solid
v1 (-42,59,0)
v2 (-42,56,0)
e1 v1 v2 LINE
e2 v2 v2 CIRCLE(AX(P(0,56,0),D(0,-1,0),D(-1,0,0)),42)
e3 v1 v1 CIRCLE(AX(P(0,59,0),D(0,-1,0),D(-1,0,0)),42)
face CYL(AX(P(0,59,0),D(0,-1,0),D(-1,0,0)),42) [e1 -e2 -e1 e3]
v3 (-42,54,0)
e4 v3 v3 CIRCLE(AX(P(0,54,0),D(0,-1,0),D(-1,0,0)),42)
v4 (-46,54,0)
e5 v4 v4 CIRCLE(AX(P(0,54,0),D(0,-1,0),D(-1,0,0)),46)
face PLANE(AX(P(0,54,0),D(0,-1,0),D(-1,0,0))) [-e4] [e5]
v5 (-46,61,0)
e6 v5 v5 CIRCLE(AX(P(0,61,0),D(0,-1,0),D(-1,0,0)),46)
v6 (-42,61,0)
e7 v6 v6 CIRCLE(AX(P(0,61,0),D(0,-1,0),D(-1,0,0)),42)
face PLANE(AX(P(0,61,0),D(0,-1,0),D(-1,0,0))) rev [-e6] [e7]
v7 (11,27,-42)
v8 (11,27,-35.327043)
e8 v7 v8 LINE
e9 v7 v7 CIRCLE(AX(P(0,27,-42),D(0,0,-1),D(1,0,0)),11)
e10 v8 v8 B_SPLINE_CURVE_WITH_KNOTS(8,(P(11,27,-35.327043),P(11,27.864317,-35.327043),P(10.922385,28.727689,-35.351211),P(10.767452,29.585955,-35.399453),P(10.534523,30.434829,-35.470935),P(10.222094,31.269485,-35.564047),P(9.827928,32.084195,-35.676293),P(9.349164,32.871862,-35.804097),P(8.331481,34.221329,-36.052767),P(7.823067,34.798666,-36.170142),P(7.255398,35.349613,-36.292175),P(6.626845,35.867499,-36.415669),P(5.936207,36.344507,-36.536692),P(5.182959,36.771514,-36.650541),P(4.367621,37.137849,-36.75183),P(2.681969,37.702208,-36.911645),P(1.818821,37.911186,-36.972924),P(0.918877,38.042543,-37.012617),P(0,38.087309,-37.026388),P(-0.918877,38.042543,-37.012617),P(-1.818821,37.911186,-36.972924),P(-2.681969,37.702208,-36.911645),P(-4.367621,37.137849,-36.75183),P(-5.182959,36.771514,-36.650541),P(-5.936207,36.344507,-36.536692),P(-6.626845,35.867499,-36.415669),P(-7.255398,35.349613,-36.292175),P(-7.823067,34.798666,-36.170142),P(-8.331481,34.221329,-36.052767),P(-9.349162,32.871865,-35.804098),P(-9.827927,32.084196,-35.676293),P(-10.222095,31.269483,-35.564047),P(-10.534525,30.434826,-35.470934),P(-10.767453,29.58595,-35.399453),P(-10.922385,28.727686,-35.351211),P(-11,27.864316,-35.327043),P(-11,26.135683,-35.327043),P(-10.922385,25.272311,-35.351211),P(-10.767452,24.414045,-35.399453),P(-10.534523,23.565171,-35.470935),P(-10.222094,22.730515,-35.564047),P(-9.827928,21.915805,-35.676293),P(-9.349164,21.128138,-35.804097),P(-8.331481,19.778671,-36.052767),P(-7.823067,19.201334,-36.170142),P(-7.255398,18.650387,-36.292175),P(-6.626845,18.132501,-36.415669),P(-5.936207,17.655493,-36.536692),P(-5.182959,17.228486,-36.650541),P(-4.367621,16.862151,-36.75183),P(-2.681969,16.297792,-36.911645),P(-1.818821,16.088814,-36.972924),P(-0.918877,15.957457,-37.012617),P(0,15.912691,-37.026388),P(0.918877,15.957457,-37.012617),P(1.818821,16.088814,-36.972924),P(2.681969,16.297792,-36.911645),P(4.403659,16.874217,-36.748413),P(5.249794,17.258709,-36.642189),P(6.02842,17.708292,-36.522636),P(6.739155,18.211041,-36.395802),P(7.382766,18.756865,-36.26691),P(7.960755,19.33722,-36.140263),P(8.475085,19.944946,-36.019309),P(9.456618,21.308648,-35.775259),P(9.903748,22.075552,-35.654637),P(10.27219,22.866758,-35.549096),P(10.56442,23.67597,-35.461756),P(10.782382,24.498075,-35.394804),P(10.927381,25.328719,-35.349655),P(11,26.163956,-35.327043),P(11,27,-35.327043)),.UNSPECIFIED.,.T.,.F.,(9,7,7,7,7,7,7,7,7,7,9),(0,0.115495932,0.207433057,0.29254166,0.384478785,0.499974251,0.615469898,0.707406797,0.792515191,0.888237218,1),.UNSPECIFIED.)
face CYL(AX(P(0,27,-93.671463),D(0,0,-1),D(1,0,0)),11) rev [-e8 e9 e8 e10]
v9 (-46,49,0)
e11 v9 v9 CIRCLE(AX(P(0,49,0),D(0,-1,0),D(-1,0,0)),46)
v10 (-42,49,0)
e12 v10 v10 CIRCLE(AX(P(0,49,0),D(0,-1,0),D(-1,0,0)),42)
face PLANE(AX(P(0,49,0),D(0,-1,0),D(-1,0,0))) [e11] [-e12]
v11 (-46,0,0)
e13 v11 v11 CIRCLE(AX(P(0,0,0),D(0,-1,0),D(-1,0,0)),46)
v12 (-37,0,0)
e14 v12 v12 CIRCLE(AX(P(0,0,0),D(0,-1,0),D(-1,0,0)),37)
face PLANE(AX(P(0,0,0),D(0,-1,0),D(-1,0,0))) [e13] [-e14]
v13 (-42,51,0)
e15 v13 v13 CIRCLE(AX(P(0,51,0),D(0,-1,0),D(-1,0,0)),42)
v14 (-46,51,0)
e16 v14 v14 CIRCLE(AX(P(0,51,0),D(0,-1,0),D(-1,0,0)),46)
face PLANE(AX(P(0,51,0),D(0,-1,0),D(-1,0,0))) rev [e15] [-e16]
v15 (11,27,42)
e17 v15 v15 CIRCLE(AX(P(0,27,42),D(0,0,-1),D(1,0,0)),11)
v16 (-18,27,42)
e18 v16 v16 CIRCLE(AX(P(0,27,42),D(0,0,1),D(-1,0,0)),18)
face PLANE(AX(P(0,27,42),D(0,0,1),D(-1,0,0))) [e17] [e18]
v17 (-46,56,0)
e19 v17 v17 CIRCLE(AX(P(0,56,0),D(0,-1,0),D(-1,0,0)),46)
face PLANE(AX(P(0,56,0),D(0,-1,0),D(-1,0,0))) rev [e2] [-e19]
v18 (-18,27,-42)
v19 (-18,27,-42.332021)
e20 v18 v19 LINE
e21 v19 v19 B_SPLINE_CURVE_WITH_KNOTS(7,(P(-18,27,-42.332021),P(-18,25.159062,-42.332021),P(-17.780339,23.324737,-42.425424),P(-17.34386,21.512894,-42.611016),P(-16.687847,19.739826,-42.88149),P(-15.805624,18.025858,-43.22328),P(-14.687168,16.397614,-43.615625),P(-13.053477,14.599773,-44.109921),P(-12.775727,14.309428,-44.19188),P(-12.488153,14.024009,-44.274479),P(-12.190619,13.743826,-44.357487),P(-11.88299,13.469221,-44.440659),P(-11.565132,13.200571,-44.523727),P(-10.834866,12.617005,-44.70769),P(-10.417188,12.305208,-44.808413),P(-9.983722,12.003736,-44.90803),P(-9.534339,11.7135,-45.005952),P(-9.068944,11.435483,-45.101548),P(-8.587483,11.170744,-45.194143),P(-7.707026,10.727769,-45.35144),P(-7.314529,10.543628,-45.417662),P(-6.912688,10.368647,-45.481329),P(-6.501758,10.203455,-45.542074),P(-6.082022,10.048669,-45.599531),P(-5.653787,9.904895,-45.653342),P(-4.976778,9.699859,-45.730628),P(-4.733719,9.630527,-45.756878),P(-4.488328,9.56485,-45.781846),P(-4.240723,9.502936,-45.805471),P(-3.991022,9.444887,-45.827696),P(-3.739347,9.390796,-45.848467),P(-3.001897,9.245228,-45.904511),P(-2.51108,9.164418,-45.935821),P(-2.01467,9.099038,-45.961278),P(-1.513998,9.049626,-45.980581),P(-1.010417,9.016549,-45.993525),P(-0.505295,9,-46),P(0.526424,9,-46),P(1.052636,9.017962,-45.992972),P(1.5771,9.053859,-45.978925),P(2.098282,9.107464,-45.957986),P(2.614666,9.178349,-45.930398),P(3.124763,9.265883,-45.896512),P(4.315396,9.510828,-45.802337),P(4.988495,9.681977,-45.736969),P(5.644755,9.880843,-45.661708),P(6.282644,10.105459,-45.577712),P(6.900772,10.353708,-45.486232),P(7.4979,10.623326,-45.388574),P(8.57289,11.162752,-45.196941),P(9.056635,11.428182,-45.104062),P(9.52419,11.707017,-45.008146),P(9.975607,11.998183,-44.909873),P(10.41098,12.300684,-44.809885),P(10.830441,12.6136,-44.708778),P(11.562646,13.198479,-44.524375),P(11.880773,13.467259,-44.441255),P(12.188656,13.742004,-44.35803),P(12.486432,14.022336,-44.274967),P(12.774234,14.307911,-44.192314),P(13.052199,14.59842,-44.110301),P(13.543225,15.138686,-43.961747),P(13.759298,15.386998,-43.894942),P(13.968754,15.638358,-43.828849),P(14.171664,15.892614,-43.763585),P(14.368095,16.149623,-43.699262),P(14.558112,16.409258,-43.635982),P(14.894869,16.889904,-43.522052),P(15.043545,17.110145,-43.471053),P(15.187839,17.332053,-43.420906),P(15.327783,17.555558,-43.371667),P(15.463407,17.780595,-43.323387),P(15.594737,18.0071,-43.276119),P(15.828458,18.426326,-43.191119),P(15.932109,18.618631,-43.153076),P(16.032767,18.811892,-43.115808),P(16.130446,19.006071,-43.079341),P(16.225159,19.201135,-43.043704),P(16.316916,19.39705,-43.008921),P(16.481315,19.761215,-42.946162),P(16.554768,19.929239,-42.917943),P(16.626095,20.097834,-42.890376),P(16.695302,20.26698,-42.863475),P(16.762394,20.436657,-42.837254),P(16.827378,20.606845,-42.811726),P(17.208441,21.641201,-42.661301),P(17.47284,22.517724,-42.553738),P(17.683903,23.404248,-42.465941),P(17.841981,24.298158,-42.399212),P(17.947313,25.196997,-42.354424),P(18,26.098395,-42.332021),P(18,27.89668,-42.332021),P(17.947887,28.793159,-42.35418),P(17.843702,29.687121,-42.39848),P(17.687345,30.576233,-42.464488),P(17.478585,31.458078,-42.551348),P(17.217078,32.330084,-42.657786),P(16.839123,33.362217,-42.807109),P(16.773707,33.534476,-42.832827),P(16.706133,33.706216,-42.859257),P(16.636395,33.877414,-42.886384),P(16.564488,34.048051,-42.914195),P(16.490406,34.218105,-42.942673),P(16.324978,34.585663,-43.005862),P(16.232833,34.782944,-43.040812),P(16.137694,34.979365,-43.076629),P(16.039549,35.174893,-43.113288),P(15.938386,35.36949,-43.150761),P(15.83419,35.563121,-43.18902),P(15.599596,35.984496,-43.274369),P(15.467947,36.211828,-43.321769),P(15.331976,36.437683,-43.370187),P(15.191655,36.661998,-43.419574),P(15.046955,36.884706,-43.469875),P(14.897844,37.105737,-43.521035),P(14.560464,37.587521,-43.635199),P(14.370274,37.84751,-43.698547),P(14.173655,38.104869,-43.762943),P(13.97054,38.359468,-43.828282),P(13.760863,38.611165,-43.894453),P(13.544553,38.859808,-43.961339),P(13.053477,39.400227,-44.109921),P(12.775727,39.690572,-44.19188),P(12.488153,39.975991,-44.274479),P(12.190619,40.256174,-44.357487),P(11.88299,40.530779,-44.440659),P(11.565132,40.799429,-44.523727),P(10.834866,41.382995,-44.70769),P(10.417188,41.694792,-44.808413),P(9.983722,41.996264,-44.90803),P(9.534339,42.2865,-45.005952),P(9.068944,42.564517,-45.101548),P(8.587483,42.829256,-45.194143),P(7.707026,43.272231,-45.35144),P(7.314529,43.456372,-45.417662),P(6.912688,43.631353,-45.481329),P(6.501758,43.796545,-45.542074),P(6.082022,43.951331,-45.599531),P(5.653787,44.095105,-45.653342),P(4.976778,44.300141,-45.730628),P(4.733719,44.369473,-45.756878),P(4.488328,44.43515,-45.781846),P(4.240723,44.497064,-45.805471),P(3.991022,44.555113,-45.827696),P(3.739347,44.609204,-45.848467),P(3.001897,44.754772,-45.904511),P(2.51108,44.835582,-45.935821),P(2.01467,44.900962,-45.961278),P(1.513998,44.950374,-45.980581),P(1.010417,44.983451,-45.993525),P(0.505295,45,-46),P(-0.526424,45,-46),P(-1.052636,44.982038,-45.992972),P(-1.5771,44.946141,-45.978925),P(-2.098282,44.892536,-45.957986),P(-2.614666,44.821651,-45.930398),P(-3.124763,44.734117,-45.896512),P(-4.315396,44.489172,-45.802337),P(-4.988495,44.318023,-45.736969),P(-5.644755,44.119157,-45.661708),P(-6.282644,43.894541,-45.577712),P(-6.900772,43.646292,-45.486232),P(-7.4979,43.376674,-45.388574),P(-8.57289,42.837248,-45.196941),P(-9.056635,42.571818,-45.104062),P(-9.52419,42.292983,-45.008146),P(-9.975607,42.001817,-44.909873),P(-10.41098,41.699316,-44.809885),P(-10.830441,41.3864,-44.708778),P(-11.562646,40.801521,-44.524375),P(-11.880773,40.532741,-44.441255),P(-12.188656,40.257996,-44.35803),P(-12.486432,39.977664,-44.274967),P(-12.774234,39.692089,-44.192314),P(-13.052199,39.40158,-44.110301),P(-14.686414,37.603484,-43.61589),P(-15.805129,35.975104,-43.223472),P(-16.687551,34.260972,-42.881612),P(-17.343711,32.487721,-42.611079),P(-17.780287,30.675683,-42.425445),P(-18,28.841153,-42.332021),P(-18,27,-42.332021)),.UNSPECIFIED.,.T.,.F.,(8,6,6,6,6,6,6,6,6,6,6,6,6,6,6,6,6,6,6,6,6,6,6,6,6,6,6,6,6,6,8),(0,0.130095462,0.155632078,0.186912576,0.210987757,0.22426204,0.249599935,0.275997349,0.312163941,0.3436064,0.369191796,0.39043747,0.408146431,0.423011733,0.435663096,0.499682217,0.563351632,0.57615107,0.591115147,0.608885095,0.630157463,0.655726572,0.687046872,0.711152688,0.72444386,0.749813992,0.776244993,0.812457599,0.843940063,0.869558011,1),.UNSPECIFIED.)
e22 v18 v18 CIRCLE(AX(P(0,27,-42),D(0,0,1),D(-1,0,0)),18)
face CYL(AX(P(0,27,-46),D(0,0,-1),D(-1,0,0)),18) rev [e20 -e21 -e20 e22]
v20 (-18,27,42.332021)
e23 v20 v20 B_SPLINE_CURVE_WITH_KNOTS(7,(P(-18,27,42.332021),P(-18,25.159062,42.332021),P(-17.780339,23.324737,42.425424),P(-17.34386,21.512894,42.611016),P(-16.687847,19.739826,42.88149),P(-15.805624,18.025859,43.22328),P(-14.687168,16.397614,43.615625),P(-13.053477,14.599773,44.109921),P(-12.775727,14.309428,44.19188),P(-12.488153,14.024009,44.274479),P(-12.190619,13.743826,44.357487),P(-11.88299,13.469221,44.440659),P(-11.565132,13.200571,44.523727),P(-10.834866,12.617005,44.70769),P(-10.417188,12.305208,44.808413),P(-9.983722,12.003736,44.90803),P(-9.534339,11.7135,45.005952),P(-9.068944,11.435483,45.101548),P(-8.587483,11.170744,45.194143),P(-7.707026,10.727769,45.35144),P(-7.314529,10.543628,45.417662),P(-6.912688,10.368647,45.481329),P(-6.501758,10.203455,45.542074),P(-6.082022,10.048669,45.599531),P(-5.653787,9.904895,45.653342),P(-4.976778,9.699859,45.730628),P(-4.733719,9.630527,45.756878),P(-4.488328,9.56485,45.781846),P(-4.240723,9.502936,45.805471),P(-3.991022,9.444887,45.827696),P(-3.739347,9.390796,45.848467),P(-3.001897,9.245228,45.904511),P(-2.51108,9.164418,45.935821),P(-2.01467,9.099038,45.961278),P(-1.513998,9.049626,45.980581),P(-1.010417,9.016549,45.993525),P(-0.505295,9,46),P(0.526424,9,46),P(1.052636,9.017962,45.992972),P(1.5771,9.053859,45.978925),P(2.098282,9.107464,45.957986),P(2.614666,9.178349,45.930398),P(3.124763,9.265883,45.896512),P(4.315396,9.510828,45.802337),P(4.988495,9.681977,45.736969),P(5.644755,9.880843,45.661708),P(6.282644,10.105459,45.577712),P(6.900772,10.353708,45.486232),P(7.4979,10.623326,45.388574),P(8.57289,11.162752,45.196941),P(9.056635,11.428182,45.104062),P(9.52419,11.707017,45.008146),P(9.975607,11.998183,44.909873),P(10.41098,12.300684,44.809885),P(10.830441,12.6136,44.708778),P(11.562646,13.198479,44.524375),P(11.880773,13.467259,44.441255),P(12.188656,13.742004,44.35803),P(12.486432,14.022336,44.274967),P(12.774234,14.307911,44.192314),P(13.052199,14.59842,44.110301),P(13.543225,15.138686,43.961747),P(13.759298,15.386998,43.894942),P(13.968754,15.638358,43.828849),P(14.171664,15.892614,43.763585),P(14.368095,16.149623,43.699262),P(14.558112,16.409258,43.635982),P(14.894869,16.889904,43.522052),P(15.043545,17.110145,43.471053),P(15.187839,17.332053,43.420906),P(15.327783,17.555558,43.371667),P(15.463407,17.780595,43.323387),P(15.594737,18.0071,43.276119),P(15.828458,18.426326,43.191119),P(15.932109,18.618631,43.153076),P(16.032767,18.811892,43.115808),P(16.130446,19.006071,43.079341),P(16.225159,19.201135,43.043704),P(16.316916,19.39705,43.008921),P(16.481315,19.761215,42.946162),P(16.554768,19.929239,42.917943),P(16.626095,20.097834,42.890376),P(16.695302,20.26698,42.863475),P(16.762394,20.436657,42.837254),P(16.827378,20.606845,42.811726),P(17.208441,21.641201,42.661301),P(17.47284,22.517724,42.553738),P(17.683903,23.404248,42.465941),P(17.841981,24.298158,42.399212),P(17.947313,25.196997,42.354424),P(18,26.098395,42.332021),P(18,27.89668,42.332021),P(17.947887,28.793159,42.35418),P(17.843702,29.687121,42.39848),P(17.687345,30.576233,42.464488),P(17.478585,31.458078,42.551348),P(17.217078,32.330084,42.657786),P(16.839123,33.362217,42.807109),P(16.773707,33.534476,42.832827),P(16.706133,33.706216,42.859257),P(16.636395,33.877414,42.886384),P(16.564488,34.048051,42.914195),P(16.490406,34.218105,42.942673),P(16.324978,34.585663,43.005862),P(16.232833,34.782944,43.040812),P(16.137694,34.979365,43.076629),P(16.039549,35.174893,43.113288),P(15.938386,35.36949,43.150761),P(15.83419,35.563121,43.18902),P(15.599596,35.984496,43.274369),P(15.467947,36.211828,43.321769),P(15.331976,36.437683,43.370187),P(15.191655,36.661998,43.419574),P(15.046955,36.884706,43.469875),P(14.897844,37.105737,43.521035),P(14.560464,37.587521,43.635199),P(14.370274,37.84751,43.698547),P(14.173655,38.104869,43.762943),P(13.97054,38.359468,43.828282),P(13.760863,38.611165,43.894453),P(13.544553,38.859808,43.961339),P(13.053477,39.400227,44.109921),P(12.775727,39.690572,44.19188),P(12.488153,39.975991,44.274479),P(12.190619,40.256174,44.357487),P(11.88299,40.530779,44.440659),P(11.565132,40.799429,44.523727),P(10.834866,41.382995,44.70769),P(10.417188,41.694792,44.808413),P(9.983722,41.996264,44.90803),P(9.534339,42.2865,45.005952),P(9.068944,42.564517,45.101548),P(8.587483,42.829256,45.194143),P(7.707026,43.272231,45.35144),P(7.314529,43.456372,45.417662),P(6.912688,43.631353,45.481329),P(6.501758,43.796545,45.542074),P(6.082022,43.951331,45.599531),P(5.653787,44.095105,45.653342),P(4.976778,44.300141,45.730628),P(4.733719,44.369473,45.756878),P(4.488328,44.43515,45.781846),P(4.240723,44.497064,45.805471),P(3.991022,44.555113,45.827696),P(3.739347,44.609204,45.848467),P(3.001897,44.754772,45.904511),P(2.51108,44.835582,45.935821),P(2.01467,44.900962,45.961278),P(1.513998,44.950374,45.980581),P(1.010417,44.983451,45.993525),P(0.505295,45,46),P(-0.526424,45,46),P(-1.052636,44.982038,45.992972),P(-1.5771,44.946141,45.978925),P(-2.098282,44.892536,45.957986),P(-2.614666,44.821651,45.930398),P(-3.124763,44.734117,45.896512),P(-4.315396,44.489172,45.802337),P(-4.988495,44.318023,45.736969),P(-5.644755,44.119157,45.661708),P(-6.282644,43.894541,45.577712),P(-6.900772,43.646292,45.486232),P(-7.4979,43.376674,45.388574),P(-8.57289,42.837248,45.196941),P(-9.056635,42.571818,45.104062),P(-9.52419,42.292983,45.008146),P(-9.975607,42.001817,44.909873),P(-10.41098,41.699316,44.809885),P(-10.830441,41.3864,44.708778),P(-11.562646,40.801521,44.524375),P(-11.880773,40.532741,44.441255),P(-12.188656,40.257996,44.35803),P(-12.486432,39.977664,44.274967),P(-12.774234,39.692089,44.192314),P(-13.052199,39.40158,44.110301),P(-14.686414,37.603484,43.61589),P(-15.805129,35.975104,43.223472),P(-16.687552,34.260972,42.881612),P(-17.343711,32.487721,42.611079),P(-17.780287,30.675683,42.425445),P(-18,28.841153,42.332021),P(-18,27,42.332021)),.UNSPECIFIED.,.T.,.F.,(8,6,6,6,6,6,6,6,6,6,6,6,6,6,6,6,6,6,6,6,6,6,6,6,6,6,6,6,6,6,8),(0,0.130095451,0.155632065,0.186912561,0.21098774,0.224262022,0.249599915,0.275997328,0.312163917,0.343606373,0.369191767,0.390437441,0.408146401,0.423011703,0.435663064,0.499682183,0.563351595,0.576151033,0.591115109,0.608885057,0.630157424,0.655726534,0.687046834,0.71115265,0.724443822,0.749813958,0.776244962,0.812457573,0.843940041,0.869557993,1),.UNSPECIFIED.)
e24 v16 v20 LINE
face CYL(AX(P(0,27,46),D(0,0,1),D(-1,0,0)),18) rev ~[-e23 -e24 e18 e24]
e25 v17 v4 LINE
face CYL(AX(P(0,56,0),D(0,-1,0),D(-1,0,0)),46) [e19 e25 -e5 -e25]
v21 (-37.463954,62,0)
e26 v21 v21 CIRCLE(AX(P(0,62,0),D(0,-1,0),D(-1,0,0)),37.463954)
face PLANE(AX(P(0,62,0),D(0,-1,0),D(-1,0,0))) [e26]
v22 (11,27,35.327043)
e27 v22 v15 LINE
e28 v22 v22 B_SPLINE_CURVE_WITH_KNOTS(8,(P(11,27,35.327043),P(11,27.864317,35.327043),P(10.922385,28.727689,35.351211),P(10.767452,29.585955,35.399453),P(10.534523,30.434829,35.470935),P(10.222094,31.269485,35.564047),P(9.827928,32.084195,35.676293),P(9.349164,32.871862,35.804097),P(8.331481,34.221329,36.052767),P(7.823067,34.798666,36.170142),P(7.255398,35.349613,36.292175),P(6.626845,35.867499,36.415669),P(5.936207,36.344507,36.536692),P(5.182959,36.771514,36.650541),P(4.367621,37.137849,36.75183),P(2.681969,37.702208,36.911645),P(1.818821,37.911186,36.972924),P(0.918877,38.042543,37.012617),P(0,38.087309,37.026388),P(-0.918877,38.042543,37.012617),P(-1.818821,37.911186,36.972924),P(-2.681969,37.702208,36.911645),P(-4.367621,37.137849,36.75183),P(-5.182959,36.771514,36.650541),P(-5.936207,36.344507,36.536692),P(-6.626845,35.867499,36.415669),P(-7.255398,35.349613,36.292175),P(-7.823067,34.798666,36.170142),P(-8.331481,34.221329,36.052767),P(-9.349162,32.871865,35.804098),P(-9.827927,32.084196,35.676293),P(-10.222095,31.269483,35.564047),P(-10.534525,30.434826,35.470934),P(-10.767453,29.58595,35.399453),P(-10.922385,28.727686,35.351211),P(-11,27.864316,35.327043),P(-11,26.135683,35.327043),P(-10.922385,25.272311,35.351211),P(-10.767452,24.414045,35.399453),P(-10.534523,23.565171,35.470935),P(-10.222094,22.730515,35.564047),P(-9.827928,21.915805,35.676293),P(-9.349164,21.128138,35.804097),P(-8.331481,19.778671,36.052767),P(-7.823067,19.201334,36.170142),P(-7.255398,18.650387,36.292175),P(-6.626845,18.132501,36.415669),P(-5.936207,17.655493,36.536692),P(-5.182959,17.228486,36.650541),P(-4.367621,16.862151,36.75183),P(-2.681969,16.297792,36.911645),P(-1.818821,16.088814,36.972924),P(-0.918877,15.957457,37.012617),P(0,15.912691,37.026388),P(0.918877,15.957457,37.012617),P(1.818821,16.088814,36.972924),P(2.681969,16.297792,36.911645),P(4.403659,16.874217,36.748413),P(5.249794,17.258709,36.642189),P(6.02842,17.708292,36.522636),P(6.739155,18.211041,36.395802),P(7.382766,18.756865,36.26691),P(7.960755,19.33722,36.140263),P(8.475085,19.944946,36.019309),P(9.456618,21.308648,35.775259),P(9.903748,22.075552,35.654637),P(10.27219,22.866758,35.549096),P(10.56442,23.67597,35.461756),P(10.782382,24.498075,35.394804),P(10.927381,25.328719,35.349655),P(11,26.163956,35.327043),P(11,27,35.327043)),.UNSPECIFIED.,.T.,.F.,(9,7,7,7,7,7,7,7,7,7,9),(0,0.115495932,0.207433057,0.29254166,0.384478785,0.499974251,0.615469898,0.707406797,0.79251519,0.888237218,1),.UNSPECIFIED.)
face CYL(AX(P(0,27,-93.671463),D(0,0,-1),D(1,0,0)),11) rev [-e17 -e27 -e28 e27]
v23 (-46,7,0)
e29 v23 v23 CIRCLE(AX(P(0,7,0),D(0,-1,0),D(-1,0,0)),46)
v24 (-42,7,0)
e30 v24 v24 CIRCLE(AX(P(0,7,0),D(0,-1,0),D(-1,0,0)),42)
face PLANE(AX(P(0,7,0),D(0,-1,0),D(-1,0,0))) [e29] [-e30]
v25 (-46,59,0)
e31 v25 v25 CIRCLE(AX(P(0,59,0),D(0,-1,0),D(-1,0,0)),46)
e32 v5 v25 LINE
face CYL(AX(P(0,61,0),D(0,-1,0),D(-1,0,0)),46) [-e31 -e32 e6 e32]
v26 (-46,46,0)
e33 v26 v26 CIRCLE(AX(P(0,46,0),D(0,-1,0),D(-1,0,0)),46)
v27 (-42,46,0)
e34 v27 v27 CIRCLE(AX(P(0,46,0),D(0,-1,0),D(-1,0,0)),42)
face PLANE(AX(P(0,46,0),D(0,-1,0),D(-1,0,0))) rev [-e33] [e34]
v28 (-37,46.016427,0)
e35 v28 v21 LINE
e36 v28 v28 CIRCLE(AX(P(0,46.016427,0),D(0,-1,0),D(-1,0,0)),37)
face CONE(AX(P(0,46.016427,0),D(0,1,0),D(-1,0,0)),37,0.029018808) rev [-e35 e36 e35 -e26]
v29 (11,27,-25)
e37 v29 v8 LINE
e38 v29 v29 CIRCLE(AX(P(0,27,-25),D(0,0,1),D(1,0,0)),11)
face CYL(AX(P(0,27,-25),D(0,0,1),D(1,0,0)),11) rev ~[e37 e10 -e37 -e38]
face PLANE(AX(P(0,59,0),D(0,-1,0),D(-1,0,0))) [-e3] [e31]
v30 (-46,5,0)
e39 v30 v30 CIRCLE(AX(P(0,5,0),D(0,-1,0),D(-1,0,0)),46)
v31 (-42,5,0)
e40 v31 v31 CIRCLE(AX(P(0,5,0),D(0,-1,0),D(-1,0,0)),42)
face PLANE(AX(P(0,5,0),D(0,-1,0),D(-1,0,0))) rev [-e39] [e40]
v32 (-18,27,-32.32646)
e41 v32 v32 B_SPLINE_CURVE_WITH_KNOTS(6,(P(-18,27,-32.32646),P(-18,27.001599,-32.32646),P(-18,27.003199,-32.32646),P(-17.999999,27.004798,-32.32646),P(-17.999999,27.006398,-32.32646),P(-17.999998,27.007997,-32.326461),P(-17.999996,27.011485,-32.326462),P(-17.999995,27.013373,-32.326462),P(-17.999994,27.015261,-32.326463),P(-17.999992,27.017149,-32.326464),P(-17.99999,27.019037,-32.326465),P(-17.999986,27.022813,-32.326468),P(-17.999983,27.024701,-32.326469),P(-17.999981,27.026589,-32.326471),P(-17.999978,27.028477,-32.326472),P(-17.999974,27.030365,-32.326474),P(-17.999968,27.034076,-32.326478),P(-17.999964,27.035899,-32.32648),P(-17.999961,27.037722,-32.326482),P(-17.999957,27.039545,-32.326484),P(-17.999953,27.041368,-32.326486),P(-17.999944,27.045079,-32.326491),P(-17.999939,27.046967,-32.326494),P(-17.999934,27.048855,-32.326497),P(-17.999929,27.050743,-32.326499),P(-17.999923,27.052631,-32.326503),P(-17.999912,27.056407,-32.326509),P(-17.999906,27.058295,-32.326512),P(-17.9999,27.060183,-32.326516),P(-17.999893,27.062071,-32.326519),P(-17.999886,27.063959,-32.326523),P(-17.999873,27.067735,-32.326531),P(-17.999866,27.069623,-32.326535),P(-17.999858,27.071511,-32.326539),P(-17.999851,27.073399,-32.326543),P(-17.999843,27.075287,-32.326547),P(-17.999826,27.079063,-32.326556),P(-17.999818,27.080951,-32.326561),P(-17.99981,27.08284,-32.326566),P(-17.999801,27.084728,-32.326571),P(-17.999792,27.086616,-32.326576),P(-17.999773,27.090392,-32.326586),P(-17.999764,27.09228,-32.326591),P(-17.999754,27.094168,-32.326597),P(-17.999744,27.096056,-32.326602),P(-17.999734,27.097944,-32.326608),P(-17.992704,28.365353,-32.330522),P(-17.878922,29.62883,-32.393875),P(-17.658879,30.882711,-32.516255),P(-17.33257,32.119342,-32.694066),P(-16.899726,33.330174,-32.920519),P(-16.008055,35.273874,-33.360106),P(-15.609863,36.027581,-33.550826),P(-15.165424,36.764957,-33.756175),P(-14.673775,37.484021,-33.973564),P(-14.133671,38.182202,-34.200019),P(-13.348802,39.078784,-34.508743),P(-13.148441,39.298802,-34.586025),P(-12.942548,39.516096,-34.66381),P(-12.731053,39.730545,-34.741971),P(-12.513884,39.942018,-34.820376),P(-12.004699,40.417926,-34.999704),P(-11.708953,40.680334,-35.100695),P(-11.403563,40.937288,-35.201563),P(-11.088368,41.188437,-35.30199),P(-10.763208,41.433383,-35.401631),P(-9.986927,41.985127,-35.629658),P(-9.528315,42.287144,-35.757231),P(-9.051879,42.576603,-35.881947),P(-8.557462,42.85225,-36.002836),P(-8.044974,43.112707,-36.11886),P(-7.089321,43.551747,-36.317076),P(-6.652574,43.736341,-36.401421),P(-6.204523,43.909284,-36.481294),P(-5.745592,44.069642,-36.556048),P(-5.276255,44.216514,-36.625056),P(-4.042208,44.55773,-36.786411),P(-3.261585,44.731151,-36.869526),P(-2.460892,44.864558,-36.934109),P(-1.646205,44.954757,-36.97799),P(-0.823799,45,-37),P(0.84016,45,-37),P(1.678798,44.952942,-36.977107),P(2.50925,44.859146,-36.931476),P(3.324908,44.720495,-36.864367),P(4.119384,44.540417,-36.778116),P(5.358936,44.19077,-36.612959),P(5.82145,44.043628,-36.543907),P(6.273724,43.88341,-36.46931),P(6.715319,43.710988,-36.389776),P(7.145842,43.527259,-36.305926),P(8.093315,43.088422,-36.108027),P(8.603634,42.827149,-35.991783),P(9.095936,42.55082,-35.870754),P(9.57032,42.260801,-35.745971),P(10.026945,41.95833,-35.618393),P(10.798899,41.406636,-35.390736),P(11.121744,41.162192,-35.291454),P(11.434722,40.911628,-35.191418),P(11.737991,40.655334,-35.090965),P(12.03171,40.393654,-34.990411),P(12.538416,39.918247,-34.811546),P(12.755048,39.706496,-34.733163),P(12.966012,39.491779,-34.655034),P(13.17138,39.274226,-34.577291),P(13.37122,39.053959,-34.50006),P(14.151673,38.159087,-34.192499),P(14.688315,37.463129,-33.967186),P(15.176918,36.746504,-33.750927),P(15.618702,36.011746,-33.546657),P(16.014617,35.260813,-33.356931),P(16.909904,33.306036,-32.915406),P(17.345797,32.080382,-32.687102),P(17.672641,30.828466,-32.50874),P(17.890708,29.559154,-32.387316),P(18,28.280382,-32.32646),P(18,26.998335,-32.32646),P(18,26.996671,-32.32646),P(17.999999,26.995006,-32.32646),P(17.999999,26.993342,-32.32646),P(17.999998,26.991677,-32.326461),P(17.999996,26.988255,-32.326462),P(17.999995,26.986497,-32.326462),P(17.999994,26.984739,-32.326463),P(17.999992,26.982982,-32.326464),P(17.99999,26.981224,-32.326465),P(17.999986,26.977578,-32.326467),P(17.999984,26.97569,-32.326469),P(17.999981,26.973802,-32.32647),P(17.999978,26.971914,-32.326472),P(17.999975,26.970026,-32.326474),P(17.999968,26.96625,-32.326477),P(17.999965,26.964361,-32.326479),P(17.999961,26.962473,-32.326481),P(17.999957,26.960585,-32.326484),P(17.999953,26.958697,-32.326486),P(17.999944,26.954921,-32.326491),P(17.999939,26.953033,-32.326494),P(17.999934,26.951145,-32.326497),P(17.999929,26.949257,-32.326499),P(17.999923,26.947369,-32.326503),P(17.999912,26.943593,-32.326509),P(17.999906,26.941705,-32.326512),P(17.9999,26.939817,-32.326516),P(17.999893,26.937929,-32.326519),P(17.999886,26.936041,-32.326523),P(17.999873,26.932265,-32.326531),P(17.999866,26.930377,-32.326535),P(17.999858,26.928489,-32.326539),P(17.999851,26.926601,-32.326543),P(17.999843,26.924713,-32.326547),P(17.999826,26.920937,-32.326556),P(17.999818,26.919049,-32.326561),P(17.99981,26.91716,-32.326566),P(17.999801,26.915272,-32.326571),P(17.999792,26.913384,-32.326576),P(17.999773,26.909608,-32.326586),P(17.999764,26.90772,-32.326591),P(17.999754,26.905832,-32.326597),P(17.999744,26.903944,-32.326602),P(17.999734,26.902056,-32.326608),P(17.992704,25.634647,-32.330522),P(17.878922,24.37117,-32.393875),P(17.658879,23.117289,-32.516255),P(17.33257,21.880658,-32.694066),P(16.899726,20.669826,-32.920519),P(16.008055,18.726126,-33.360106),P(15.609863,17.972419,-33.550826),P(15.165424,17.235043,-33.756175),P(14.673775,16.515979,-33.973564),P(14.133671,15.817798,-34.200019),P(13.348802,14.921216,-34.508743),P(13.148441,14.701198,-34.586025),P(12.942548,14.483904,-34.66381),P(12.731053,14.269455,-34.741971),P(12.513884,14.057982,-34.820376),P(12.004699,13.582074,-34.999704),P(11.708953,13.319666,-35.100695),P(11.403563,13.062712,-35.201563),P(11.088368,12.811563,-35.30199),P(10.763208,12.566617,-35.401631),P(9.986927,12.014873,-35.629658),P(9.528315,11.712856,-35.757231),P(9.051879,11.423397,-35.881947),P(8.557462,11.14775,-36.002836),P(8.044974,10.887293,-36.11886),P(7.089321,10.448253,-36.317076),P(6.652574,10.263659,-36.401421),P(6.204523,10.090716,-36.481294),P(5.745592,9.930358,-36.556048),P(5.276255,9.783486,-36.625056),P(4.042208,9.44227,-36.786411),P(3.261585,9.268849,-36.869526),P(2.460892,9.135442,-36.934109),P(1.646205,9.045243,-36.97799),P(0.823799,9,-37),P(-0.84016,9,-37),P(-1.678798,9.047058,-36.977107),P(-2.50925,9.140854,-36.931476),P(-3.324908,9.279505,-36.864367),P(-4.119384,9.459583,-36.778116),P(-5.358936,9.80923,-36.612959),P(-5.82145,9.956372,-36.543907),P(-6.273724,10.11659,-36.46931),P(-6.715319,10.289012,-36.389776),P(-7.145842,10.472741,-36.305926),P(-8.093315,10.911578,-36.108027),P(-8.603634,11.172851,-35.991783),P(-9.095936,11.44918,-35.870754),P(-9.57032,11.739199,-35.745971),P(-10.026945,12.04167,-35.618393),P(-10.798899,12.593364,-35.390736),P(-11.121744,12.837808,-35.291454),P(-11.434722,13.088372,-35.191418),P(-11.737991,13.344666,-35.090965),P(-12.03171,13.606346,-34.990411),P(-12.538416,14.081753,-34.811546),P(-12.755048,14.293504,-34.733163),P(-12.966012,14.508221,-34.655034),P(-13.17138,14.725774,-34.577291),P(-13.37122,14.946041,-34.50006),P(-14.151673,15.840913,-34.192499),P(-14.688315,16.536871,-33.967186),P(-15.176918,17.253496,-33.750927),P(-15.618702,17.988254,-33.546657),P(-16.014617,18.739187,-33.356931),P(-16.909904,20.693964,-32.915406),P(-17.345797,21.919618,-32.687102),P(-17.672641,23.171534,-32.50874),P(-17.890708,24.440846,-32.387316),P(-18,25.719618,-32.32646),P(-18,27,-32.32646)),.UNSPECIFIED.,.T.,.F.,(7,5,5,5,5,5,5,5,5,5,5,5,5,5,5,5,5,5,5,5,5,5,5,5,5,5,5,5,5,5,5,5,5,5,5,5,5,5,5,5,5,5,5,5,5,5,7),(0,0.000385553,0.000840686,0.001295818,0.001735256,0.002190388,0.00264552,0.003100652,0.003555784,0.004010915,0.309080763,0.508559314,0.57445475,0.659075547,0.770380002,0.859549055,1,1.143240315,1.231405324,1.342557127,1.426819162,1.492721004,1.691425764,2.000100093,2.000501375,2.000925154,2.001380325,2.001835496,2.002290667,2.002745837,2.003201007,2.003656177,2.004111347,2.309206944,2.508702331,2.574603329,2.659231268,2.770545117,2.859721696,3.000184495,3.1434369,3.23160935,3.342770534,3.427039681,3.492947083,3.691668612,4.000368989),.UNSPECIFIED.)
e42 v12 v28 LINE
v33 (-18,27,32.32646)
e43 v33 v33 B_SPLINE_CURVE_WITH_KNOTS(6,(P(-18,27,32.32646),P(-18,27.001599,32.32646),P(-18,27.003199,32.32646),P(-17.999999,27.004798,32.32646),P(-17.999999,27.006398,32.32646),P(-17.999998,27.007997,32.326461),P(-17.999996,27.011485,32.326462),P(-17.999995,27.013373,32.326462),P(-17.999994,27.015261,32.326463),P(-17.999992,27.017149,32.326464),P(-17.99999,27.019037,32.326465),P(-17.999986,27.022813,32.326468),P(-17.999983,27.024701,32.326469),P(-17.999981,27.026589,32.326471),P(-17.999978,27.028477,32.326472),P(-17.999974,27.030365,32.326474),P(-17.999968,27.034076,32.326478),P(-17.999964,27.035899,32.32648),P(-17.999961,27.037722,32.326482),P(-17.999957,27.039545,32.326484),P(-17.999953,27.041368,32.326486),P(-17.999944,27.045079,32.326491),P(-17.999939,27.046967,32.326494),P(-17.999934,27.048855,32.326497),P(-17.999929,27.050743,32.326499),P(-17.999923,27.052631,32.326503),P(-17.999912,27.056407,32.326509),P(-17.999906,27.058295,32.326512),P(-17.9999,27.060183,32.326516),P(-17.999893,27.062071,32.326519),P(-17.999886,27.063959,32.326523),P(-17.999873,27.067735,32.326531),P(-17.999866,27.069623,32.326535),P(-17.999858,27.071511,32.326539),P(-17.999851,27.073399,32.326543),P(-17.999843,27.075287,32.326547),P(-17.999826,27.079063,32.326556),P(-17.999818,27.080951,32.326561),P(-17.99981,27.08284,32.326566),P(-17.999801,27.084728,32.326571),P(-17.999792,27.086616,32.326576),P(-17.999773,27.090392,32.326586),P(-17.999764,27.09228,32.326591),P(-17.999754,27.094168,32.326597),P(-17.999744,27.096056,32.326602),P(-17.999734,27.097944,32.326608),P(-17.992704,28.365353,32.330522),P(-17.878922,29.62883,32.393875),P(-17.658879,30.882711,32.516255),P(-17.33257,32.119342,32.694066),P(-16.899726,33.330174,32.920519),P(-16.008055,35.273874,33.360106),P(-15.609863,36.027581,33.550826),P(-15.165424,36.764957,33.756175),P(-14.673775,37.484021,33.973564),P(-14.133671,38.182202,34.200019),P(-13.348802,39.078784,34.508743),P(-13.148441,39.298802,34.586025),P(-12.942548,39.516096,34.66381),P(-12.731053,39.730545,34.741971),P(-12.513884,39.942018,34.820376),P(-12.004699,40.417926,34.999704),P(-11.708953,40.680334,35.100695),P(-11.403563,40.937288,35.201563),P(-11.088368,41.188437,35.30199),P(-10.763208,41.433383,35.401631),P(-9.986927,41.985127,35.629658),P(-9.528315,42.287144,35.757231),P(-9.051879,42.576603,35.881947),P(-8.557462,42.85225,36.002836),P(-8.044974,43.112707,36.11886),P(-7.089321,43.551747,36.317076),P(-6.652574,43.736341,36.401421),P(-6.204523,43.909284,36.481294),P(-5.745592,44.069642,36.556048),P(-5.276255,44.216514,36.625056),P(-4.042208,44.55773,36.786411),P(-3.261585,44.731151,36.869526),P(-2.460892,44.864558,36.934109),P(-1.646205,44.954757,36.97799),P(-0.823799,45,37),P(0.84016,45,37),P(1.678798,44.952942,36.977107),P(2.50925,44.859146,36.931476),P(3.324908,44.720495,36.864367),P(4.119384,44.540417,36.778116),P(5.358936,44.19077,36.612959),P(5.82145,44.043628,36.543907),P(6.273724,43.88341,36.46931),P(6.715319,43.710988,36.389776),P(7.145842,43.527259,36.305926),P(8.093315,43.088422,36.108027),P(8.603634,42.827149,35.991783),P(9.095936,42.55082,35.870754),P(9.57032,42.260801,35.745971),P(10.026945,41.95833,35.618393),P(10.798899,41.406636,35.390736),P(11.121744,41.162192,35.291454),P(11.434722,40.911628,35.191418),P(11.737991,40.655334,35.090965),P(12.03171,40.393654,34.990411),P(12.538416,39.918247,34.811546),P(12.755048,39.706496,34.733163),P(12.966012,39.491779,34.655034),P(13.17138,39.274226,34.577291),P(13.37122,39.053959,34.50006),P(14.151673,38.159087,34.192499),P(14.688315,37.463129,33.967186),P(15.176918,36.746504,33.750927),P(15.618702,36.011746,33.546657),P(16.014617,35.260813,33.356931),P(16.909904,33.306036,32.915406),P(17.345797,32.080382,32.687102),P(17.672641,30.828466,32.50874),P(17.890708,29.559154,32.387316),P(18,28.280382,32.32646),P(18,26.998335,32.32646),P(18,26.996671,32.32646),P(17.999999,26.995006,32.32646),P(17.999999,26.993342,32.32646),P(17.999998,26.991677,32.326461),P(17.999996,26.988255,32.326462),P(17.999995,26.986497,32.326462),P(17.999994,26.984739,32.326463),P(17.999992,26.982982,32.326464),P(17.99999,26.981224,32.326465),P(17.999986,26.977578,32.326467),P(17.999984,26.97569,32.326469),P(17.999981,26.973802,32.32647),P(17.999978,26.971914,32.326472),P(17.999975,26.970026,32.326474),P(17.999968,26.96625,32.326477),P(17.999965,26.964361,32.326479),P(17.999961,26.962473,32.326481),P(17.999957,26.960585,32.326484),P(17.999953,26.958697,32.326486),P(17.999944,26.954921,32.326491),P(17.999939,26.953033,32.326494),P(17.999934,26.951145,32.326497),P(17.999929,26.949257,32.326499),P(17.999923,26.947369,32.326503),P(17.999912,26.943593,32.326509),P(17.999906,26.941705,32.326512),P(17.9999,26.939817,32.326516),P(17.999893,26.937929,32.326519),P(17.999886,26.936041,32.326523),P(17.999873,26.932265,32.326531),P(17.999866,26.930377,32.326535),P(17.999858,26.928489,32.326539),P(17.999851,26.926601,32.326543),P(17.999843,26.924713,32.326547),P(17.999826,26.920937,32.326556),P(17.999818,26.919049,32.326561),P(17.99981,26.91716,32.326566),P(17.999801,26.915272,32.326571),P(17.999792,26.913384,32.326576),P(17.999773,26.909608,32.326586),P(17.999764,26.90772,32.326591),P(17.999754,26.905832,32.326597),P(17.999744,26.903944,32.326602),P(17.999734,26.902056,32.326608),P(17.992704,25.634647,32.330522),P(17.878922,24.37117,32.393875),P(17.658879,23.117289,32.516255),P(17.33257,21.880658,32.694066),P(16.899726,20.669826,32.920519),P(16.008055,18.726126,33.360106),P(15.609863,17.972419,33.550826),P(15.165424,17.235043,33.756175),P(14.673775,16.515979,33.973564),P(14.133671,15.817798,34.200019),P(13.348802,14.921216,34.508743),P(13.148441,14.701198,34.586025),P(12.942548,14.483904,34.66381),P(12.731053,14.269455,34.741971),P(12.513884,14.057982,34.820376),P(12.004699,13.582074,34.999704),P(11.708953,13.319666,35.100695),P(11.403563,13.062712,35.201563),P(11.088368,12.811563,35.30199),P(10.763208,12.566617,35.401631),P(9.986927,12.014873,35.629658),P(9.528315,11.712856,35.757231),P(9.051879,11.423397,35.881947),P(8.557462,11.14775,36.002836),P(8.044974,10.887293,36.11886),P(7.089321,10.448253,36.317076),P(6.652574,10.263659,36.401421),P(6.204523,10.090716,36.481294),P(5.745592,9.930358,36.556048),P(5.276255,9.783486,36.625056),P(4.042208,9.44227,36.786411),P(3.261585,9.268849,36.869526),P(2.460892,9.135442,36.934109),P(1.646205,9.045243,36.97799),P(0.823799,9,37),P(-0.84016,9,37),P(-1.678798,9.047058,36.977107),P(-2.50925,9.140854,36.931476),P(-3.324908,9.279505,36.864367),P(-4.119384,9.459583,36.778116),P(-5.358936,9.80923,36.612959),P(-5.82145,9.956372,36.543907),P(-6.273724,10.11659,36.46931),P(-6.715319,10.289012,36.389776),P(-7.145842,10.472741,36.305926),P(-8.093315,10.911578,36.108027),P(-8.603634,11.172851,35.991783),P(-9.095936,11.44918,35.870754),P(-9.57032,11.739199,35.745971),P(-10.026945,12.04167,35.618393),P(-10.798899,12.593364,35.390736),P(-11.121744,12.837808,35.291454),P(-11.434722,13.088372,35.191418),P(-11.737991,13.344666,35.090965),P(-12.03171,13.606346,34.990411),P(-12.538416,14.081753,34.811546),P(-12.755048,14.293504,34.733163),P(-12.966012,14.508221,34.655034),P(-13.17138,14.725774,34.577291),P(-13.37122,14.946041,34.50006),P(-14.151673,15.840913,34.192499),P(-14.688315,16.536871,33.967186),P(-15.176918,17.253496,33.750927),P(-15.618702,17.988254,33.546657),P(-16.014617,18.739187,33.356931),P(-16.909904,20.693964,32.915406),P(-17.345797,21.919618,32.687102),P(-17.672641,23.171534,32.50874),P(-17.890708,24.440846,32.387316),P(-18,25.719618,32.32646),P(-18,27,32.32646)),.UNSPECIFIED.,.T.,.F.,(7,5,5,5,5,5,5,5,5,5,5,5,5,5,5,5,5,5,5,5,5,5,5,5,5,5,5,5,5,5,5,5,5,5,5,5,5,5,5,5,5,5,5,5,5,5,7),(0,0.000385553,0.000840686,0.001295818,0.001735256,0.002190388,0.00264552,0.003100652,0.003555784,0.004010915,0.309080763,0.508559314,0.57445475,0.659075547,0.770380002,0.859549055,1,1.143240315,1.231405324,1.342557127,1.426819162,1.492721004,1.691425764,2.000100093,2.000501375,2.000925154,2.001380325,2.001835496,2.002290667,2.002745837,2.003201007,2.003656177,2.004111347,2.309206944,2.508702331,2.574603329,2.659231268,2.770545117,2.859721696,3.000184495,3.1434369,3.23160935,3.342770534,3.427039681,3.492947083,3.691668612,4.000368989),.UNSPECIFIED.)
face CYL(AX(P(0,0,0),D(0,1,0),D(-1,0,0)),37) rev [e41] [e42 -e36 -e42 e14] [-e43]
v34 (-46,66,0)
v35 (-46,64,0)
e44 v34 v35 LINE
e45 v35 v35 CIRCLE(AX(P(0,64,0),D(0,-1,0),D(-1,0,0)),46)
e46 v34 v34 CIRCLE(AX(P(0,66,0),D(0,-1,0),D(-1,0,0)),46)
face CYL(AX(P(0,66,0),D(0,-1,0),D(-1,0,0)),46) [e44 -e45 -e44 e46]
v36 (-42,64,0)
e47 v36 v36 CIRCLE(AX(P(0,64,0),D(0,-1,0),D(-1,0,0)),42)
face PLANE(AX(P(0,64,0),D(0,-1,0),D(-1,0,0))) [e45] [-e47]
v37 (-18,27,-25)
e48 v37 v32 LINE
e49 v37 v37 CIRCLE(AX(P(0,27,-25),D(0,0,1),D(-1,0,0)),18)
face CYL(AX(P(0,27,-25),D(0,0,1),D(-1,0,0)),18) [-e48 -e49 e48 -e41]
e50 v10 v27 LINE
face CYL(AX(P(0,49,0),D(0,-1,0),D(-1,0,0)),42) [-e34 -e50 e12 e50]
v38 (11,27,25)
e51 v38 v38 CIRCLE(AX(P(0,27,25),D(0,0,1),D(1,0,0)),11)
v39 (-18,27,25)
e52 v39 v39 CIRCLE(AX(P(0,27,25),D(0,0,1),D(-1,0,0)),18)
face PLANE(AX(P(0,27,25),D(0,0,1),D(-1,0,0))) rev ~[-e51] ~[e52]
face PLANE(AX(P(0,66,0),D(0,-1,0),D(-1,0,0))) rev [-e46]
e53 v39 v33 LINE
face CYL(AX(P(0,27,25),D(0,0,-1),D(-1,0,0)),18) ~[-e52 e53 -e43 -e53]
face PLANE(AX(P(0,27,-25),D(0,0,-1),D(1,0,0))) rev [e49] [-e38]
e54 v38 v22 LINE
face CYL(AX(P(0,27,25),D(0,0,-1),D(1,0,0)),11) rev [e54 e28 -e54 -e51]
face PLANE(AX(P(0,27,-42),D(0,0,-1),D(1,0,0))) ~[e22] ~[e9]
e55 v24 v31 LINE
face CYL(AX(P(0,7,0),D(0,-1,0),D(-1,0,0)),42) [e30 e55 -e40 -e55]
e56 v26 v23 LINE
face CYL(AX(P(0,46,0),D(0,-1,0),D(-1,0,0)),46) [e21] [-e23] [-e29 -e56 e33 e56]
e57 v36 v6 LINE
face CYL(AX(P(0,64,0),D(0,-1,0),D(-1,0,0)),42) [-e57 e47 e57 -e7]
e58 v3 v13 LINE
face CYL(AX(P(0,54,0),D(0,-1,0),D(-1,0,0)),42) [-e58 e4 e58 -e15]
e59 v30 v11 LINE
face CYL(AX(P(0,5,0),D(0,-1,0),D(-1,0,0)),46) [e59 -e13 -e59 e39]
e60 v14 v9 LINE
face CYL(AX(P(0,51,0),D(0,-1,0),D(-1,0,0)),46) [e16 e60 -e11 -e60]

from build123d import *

# Parameters (mm, degrees)
CUT_EXTRUDE1_DEPTH       = 93.671462706
CUT_EXTRUDE1_DEPTH_BACK  = 93.671462706
SKETCH2_R                = 11
CUT_EXTRUDE3_START       = 46
SKETCH3_R                = 18
CUT_EXTRUDE3_DEPTH       = 4
BOSS_EXTRUDE2_REACH      = 119.671
BOSS_EXTRUDE2_END_RADIUS = 37
BOSS_EXTRUDE2_START      = 25
SKETCH6_R                = 18
SKETCH6_R_2              = 11


with BuildPart() as part:
    # Sketch1 → Revolve1 (revolve)
    with BuildSketch(Plane.XY):
        Polygon((0, 66), (-46, 66), (-46, 64), (-42, 64), (-42, 61), (-46, 61), (-46, 59), (-42, 59), (-42, 56), (-46, 56), (-46, 54), (-42, 54), (-42, 51), (-46, 51), (-46, 49), (-42, 49), (-42, 46), (-46, 46), (-46, 7), (-42, 7), (-42, 5), (-46, 5), (-46, 0), (-37, 0), (-37, 7), (-37, 46.016426543), (-37.463954494, 62), (0, 62), align=None)
    revolve(axis=Axis((0, 66, 0), (0, -1, 0)))

    # Sketch2 → Cut-Extrude1 (cut, two sides: drawn at the far end of the back side and taken through both)
    with BuildSketch(Plane.XY.offset(-CUT_EXTRUDE1_DEPTH_BACK)):
        with Locations((0, 27)):
            Circle(SKETCH2_R)
    extrude(amount=CUT_EXTRUDE1_DEPTH + CUT_EXTRUDE1_DEPTH_BACK, mode=Mode.SUBTRACT)

    # Sketch3 → Cut-Extrude3 (cut, symmetric)
    with BuildSketch(Plane.XY.offset(CUT_EXTRUDE3_START)):
        with Locations(Location((0, 27, 0), (0, 0, 180))):
            Circle(SKETCH3_R)
    cut_extrude3 = extrude(amount=CUT_EXTRUDE3_DEPTH, both=True, mode=Mode.SUBTRACT)

    # Mirror2: Cut-Extrude3 across plane
    add(cut_extrude3.mirror(Plane.XY), mode=Mode.SUBTRACT)

    # Boss-Extrude2: up to this cylinder (the profile starts inside it)
    boss_extrude2_end = Plane(origin=(0, 27, 0), z_dir=(0, 1, 0)) * Cylinder(BOSS_EXTRUDE2_END_RADIUS, 314.342, mode=Mode.PRIVATE)
    # Sketch6 → Boss-Extrude2 (add, up to the surface)
    with BuildSketch(Plane.XY.offset(BOSS_EXTRUDE2_START), mode=Mode.PRIVATE) as boss_extrude2_sk1:
        with Locations(Location((0, 27, 0), (0, 0, 180))):
            Circle(SKETCH6_R)
        with Locations((0, 27)):
            Circle(SKETCH6_R_2, mode=Mode.SUBTRACT)
    boss_extrude2_tool1 = extrude(boss_extrude2_sk1.sketch, amount=BOSS_EXTRUDE2_REACH, mode=Mode.PRIVATE) & boss_extrude2_end
    boss_extrude2 = boss_extrude2_tool1.solids().sort_by_distance((17.490883, 27, 25))[0]
    add(boss_extrude2)

    # Mirror4: Boss-Extrude2 across plane
    add(boss_extrude2.mirror(Plane.XY))


solid = part.part
